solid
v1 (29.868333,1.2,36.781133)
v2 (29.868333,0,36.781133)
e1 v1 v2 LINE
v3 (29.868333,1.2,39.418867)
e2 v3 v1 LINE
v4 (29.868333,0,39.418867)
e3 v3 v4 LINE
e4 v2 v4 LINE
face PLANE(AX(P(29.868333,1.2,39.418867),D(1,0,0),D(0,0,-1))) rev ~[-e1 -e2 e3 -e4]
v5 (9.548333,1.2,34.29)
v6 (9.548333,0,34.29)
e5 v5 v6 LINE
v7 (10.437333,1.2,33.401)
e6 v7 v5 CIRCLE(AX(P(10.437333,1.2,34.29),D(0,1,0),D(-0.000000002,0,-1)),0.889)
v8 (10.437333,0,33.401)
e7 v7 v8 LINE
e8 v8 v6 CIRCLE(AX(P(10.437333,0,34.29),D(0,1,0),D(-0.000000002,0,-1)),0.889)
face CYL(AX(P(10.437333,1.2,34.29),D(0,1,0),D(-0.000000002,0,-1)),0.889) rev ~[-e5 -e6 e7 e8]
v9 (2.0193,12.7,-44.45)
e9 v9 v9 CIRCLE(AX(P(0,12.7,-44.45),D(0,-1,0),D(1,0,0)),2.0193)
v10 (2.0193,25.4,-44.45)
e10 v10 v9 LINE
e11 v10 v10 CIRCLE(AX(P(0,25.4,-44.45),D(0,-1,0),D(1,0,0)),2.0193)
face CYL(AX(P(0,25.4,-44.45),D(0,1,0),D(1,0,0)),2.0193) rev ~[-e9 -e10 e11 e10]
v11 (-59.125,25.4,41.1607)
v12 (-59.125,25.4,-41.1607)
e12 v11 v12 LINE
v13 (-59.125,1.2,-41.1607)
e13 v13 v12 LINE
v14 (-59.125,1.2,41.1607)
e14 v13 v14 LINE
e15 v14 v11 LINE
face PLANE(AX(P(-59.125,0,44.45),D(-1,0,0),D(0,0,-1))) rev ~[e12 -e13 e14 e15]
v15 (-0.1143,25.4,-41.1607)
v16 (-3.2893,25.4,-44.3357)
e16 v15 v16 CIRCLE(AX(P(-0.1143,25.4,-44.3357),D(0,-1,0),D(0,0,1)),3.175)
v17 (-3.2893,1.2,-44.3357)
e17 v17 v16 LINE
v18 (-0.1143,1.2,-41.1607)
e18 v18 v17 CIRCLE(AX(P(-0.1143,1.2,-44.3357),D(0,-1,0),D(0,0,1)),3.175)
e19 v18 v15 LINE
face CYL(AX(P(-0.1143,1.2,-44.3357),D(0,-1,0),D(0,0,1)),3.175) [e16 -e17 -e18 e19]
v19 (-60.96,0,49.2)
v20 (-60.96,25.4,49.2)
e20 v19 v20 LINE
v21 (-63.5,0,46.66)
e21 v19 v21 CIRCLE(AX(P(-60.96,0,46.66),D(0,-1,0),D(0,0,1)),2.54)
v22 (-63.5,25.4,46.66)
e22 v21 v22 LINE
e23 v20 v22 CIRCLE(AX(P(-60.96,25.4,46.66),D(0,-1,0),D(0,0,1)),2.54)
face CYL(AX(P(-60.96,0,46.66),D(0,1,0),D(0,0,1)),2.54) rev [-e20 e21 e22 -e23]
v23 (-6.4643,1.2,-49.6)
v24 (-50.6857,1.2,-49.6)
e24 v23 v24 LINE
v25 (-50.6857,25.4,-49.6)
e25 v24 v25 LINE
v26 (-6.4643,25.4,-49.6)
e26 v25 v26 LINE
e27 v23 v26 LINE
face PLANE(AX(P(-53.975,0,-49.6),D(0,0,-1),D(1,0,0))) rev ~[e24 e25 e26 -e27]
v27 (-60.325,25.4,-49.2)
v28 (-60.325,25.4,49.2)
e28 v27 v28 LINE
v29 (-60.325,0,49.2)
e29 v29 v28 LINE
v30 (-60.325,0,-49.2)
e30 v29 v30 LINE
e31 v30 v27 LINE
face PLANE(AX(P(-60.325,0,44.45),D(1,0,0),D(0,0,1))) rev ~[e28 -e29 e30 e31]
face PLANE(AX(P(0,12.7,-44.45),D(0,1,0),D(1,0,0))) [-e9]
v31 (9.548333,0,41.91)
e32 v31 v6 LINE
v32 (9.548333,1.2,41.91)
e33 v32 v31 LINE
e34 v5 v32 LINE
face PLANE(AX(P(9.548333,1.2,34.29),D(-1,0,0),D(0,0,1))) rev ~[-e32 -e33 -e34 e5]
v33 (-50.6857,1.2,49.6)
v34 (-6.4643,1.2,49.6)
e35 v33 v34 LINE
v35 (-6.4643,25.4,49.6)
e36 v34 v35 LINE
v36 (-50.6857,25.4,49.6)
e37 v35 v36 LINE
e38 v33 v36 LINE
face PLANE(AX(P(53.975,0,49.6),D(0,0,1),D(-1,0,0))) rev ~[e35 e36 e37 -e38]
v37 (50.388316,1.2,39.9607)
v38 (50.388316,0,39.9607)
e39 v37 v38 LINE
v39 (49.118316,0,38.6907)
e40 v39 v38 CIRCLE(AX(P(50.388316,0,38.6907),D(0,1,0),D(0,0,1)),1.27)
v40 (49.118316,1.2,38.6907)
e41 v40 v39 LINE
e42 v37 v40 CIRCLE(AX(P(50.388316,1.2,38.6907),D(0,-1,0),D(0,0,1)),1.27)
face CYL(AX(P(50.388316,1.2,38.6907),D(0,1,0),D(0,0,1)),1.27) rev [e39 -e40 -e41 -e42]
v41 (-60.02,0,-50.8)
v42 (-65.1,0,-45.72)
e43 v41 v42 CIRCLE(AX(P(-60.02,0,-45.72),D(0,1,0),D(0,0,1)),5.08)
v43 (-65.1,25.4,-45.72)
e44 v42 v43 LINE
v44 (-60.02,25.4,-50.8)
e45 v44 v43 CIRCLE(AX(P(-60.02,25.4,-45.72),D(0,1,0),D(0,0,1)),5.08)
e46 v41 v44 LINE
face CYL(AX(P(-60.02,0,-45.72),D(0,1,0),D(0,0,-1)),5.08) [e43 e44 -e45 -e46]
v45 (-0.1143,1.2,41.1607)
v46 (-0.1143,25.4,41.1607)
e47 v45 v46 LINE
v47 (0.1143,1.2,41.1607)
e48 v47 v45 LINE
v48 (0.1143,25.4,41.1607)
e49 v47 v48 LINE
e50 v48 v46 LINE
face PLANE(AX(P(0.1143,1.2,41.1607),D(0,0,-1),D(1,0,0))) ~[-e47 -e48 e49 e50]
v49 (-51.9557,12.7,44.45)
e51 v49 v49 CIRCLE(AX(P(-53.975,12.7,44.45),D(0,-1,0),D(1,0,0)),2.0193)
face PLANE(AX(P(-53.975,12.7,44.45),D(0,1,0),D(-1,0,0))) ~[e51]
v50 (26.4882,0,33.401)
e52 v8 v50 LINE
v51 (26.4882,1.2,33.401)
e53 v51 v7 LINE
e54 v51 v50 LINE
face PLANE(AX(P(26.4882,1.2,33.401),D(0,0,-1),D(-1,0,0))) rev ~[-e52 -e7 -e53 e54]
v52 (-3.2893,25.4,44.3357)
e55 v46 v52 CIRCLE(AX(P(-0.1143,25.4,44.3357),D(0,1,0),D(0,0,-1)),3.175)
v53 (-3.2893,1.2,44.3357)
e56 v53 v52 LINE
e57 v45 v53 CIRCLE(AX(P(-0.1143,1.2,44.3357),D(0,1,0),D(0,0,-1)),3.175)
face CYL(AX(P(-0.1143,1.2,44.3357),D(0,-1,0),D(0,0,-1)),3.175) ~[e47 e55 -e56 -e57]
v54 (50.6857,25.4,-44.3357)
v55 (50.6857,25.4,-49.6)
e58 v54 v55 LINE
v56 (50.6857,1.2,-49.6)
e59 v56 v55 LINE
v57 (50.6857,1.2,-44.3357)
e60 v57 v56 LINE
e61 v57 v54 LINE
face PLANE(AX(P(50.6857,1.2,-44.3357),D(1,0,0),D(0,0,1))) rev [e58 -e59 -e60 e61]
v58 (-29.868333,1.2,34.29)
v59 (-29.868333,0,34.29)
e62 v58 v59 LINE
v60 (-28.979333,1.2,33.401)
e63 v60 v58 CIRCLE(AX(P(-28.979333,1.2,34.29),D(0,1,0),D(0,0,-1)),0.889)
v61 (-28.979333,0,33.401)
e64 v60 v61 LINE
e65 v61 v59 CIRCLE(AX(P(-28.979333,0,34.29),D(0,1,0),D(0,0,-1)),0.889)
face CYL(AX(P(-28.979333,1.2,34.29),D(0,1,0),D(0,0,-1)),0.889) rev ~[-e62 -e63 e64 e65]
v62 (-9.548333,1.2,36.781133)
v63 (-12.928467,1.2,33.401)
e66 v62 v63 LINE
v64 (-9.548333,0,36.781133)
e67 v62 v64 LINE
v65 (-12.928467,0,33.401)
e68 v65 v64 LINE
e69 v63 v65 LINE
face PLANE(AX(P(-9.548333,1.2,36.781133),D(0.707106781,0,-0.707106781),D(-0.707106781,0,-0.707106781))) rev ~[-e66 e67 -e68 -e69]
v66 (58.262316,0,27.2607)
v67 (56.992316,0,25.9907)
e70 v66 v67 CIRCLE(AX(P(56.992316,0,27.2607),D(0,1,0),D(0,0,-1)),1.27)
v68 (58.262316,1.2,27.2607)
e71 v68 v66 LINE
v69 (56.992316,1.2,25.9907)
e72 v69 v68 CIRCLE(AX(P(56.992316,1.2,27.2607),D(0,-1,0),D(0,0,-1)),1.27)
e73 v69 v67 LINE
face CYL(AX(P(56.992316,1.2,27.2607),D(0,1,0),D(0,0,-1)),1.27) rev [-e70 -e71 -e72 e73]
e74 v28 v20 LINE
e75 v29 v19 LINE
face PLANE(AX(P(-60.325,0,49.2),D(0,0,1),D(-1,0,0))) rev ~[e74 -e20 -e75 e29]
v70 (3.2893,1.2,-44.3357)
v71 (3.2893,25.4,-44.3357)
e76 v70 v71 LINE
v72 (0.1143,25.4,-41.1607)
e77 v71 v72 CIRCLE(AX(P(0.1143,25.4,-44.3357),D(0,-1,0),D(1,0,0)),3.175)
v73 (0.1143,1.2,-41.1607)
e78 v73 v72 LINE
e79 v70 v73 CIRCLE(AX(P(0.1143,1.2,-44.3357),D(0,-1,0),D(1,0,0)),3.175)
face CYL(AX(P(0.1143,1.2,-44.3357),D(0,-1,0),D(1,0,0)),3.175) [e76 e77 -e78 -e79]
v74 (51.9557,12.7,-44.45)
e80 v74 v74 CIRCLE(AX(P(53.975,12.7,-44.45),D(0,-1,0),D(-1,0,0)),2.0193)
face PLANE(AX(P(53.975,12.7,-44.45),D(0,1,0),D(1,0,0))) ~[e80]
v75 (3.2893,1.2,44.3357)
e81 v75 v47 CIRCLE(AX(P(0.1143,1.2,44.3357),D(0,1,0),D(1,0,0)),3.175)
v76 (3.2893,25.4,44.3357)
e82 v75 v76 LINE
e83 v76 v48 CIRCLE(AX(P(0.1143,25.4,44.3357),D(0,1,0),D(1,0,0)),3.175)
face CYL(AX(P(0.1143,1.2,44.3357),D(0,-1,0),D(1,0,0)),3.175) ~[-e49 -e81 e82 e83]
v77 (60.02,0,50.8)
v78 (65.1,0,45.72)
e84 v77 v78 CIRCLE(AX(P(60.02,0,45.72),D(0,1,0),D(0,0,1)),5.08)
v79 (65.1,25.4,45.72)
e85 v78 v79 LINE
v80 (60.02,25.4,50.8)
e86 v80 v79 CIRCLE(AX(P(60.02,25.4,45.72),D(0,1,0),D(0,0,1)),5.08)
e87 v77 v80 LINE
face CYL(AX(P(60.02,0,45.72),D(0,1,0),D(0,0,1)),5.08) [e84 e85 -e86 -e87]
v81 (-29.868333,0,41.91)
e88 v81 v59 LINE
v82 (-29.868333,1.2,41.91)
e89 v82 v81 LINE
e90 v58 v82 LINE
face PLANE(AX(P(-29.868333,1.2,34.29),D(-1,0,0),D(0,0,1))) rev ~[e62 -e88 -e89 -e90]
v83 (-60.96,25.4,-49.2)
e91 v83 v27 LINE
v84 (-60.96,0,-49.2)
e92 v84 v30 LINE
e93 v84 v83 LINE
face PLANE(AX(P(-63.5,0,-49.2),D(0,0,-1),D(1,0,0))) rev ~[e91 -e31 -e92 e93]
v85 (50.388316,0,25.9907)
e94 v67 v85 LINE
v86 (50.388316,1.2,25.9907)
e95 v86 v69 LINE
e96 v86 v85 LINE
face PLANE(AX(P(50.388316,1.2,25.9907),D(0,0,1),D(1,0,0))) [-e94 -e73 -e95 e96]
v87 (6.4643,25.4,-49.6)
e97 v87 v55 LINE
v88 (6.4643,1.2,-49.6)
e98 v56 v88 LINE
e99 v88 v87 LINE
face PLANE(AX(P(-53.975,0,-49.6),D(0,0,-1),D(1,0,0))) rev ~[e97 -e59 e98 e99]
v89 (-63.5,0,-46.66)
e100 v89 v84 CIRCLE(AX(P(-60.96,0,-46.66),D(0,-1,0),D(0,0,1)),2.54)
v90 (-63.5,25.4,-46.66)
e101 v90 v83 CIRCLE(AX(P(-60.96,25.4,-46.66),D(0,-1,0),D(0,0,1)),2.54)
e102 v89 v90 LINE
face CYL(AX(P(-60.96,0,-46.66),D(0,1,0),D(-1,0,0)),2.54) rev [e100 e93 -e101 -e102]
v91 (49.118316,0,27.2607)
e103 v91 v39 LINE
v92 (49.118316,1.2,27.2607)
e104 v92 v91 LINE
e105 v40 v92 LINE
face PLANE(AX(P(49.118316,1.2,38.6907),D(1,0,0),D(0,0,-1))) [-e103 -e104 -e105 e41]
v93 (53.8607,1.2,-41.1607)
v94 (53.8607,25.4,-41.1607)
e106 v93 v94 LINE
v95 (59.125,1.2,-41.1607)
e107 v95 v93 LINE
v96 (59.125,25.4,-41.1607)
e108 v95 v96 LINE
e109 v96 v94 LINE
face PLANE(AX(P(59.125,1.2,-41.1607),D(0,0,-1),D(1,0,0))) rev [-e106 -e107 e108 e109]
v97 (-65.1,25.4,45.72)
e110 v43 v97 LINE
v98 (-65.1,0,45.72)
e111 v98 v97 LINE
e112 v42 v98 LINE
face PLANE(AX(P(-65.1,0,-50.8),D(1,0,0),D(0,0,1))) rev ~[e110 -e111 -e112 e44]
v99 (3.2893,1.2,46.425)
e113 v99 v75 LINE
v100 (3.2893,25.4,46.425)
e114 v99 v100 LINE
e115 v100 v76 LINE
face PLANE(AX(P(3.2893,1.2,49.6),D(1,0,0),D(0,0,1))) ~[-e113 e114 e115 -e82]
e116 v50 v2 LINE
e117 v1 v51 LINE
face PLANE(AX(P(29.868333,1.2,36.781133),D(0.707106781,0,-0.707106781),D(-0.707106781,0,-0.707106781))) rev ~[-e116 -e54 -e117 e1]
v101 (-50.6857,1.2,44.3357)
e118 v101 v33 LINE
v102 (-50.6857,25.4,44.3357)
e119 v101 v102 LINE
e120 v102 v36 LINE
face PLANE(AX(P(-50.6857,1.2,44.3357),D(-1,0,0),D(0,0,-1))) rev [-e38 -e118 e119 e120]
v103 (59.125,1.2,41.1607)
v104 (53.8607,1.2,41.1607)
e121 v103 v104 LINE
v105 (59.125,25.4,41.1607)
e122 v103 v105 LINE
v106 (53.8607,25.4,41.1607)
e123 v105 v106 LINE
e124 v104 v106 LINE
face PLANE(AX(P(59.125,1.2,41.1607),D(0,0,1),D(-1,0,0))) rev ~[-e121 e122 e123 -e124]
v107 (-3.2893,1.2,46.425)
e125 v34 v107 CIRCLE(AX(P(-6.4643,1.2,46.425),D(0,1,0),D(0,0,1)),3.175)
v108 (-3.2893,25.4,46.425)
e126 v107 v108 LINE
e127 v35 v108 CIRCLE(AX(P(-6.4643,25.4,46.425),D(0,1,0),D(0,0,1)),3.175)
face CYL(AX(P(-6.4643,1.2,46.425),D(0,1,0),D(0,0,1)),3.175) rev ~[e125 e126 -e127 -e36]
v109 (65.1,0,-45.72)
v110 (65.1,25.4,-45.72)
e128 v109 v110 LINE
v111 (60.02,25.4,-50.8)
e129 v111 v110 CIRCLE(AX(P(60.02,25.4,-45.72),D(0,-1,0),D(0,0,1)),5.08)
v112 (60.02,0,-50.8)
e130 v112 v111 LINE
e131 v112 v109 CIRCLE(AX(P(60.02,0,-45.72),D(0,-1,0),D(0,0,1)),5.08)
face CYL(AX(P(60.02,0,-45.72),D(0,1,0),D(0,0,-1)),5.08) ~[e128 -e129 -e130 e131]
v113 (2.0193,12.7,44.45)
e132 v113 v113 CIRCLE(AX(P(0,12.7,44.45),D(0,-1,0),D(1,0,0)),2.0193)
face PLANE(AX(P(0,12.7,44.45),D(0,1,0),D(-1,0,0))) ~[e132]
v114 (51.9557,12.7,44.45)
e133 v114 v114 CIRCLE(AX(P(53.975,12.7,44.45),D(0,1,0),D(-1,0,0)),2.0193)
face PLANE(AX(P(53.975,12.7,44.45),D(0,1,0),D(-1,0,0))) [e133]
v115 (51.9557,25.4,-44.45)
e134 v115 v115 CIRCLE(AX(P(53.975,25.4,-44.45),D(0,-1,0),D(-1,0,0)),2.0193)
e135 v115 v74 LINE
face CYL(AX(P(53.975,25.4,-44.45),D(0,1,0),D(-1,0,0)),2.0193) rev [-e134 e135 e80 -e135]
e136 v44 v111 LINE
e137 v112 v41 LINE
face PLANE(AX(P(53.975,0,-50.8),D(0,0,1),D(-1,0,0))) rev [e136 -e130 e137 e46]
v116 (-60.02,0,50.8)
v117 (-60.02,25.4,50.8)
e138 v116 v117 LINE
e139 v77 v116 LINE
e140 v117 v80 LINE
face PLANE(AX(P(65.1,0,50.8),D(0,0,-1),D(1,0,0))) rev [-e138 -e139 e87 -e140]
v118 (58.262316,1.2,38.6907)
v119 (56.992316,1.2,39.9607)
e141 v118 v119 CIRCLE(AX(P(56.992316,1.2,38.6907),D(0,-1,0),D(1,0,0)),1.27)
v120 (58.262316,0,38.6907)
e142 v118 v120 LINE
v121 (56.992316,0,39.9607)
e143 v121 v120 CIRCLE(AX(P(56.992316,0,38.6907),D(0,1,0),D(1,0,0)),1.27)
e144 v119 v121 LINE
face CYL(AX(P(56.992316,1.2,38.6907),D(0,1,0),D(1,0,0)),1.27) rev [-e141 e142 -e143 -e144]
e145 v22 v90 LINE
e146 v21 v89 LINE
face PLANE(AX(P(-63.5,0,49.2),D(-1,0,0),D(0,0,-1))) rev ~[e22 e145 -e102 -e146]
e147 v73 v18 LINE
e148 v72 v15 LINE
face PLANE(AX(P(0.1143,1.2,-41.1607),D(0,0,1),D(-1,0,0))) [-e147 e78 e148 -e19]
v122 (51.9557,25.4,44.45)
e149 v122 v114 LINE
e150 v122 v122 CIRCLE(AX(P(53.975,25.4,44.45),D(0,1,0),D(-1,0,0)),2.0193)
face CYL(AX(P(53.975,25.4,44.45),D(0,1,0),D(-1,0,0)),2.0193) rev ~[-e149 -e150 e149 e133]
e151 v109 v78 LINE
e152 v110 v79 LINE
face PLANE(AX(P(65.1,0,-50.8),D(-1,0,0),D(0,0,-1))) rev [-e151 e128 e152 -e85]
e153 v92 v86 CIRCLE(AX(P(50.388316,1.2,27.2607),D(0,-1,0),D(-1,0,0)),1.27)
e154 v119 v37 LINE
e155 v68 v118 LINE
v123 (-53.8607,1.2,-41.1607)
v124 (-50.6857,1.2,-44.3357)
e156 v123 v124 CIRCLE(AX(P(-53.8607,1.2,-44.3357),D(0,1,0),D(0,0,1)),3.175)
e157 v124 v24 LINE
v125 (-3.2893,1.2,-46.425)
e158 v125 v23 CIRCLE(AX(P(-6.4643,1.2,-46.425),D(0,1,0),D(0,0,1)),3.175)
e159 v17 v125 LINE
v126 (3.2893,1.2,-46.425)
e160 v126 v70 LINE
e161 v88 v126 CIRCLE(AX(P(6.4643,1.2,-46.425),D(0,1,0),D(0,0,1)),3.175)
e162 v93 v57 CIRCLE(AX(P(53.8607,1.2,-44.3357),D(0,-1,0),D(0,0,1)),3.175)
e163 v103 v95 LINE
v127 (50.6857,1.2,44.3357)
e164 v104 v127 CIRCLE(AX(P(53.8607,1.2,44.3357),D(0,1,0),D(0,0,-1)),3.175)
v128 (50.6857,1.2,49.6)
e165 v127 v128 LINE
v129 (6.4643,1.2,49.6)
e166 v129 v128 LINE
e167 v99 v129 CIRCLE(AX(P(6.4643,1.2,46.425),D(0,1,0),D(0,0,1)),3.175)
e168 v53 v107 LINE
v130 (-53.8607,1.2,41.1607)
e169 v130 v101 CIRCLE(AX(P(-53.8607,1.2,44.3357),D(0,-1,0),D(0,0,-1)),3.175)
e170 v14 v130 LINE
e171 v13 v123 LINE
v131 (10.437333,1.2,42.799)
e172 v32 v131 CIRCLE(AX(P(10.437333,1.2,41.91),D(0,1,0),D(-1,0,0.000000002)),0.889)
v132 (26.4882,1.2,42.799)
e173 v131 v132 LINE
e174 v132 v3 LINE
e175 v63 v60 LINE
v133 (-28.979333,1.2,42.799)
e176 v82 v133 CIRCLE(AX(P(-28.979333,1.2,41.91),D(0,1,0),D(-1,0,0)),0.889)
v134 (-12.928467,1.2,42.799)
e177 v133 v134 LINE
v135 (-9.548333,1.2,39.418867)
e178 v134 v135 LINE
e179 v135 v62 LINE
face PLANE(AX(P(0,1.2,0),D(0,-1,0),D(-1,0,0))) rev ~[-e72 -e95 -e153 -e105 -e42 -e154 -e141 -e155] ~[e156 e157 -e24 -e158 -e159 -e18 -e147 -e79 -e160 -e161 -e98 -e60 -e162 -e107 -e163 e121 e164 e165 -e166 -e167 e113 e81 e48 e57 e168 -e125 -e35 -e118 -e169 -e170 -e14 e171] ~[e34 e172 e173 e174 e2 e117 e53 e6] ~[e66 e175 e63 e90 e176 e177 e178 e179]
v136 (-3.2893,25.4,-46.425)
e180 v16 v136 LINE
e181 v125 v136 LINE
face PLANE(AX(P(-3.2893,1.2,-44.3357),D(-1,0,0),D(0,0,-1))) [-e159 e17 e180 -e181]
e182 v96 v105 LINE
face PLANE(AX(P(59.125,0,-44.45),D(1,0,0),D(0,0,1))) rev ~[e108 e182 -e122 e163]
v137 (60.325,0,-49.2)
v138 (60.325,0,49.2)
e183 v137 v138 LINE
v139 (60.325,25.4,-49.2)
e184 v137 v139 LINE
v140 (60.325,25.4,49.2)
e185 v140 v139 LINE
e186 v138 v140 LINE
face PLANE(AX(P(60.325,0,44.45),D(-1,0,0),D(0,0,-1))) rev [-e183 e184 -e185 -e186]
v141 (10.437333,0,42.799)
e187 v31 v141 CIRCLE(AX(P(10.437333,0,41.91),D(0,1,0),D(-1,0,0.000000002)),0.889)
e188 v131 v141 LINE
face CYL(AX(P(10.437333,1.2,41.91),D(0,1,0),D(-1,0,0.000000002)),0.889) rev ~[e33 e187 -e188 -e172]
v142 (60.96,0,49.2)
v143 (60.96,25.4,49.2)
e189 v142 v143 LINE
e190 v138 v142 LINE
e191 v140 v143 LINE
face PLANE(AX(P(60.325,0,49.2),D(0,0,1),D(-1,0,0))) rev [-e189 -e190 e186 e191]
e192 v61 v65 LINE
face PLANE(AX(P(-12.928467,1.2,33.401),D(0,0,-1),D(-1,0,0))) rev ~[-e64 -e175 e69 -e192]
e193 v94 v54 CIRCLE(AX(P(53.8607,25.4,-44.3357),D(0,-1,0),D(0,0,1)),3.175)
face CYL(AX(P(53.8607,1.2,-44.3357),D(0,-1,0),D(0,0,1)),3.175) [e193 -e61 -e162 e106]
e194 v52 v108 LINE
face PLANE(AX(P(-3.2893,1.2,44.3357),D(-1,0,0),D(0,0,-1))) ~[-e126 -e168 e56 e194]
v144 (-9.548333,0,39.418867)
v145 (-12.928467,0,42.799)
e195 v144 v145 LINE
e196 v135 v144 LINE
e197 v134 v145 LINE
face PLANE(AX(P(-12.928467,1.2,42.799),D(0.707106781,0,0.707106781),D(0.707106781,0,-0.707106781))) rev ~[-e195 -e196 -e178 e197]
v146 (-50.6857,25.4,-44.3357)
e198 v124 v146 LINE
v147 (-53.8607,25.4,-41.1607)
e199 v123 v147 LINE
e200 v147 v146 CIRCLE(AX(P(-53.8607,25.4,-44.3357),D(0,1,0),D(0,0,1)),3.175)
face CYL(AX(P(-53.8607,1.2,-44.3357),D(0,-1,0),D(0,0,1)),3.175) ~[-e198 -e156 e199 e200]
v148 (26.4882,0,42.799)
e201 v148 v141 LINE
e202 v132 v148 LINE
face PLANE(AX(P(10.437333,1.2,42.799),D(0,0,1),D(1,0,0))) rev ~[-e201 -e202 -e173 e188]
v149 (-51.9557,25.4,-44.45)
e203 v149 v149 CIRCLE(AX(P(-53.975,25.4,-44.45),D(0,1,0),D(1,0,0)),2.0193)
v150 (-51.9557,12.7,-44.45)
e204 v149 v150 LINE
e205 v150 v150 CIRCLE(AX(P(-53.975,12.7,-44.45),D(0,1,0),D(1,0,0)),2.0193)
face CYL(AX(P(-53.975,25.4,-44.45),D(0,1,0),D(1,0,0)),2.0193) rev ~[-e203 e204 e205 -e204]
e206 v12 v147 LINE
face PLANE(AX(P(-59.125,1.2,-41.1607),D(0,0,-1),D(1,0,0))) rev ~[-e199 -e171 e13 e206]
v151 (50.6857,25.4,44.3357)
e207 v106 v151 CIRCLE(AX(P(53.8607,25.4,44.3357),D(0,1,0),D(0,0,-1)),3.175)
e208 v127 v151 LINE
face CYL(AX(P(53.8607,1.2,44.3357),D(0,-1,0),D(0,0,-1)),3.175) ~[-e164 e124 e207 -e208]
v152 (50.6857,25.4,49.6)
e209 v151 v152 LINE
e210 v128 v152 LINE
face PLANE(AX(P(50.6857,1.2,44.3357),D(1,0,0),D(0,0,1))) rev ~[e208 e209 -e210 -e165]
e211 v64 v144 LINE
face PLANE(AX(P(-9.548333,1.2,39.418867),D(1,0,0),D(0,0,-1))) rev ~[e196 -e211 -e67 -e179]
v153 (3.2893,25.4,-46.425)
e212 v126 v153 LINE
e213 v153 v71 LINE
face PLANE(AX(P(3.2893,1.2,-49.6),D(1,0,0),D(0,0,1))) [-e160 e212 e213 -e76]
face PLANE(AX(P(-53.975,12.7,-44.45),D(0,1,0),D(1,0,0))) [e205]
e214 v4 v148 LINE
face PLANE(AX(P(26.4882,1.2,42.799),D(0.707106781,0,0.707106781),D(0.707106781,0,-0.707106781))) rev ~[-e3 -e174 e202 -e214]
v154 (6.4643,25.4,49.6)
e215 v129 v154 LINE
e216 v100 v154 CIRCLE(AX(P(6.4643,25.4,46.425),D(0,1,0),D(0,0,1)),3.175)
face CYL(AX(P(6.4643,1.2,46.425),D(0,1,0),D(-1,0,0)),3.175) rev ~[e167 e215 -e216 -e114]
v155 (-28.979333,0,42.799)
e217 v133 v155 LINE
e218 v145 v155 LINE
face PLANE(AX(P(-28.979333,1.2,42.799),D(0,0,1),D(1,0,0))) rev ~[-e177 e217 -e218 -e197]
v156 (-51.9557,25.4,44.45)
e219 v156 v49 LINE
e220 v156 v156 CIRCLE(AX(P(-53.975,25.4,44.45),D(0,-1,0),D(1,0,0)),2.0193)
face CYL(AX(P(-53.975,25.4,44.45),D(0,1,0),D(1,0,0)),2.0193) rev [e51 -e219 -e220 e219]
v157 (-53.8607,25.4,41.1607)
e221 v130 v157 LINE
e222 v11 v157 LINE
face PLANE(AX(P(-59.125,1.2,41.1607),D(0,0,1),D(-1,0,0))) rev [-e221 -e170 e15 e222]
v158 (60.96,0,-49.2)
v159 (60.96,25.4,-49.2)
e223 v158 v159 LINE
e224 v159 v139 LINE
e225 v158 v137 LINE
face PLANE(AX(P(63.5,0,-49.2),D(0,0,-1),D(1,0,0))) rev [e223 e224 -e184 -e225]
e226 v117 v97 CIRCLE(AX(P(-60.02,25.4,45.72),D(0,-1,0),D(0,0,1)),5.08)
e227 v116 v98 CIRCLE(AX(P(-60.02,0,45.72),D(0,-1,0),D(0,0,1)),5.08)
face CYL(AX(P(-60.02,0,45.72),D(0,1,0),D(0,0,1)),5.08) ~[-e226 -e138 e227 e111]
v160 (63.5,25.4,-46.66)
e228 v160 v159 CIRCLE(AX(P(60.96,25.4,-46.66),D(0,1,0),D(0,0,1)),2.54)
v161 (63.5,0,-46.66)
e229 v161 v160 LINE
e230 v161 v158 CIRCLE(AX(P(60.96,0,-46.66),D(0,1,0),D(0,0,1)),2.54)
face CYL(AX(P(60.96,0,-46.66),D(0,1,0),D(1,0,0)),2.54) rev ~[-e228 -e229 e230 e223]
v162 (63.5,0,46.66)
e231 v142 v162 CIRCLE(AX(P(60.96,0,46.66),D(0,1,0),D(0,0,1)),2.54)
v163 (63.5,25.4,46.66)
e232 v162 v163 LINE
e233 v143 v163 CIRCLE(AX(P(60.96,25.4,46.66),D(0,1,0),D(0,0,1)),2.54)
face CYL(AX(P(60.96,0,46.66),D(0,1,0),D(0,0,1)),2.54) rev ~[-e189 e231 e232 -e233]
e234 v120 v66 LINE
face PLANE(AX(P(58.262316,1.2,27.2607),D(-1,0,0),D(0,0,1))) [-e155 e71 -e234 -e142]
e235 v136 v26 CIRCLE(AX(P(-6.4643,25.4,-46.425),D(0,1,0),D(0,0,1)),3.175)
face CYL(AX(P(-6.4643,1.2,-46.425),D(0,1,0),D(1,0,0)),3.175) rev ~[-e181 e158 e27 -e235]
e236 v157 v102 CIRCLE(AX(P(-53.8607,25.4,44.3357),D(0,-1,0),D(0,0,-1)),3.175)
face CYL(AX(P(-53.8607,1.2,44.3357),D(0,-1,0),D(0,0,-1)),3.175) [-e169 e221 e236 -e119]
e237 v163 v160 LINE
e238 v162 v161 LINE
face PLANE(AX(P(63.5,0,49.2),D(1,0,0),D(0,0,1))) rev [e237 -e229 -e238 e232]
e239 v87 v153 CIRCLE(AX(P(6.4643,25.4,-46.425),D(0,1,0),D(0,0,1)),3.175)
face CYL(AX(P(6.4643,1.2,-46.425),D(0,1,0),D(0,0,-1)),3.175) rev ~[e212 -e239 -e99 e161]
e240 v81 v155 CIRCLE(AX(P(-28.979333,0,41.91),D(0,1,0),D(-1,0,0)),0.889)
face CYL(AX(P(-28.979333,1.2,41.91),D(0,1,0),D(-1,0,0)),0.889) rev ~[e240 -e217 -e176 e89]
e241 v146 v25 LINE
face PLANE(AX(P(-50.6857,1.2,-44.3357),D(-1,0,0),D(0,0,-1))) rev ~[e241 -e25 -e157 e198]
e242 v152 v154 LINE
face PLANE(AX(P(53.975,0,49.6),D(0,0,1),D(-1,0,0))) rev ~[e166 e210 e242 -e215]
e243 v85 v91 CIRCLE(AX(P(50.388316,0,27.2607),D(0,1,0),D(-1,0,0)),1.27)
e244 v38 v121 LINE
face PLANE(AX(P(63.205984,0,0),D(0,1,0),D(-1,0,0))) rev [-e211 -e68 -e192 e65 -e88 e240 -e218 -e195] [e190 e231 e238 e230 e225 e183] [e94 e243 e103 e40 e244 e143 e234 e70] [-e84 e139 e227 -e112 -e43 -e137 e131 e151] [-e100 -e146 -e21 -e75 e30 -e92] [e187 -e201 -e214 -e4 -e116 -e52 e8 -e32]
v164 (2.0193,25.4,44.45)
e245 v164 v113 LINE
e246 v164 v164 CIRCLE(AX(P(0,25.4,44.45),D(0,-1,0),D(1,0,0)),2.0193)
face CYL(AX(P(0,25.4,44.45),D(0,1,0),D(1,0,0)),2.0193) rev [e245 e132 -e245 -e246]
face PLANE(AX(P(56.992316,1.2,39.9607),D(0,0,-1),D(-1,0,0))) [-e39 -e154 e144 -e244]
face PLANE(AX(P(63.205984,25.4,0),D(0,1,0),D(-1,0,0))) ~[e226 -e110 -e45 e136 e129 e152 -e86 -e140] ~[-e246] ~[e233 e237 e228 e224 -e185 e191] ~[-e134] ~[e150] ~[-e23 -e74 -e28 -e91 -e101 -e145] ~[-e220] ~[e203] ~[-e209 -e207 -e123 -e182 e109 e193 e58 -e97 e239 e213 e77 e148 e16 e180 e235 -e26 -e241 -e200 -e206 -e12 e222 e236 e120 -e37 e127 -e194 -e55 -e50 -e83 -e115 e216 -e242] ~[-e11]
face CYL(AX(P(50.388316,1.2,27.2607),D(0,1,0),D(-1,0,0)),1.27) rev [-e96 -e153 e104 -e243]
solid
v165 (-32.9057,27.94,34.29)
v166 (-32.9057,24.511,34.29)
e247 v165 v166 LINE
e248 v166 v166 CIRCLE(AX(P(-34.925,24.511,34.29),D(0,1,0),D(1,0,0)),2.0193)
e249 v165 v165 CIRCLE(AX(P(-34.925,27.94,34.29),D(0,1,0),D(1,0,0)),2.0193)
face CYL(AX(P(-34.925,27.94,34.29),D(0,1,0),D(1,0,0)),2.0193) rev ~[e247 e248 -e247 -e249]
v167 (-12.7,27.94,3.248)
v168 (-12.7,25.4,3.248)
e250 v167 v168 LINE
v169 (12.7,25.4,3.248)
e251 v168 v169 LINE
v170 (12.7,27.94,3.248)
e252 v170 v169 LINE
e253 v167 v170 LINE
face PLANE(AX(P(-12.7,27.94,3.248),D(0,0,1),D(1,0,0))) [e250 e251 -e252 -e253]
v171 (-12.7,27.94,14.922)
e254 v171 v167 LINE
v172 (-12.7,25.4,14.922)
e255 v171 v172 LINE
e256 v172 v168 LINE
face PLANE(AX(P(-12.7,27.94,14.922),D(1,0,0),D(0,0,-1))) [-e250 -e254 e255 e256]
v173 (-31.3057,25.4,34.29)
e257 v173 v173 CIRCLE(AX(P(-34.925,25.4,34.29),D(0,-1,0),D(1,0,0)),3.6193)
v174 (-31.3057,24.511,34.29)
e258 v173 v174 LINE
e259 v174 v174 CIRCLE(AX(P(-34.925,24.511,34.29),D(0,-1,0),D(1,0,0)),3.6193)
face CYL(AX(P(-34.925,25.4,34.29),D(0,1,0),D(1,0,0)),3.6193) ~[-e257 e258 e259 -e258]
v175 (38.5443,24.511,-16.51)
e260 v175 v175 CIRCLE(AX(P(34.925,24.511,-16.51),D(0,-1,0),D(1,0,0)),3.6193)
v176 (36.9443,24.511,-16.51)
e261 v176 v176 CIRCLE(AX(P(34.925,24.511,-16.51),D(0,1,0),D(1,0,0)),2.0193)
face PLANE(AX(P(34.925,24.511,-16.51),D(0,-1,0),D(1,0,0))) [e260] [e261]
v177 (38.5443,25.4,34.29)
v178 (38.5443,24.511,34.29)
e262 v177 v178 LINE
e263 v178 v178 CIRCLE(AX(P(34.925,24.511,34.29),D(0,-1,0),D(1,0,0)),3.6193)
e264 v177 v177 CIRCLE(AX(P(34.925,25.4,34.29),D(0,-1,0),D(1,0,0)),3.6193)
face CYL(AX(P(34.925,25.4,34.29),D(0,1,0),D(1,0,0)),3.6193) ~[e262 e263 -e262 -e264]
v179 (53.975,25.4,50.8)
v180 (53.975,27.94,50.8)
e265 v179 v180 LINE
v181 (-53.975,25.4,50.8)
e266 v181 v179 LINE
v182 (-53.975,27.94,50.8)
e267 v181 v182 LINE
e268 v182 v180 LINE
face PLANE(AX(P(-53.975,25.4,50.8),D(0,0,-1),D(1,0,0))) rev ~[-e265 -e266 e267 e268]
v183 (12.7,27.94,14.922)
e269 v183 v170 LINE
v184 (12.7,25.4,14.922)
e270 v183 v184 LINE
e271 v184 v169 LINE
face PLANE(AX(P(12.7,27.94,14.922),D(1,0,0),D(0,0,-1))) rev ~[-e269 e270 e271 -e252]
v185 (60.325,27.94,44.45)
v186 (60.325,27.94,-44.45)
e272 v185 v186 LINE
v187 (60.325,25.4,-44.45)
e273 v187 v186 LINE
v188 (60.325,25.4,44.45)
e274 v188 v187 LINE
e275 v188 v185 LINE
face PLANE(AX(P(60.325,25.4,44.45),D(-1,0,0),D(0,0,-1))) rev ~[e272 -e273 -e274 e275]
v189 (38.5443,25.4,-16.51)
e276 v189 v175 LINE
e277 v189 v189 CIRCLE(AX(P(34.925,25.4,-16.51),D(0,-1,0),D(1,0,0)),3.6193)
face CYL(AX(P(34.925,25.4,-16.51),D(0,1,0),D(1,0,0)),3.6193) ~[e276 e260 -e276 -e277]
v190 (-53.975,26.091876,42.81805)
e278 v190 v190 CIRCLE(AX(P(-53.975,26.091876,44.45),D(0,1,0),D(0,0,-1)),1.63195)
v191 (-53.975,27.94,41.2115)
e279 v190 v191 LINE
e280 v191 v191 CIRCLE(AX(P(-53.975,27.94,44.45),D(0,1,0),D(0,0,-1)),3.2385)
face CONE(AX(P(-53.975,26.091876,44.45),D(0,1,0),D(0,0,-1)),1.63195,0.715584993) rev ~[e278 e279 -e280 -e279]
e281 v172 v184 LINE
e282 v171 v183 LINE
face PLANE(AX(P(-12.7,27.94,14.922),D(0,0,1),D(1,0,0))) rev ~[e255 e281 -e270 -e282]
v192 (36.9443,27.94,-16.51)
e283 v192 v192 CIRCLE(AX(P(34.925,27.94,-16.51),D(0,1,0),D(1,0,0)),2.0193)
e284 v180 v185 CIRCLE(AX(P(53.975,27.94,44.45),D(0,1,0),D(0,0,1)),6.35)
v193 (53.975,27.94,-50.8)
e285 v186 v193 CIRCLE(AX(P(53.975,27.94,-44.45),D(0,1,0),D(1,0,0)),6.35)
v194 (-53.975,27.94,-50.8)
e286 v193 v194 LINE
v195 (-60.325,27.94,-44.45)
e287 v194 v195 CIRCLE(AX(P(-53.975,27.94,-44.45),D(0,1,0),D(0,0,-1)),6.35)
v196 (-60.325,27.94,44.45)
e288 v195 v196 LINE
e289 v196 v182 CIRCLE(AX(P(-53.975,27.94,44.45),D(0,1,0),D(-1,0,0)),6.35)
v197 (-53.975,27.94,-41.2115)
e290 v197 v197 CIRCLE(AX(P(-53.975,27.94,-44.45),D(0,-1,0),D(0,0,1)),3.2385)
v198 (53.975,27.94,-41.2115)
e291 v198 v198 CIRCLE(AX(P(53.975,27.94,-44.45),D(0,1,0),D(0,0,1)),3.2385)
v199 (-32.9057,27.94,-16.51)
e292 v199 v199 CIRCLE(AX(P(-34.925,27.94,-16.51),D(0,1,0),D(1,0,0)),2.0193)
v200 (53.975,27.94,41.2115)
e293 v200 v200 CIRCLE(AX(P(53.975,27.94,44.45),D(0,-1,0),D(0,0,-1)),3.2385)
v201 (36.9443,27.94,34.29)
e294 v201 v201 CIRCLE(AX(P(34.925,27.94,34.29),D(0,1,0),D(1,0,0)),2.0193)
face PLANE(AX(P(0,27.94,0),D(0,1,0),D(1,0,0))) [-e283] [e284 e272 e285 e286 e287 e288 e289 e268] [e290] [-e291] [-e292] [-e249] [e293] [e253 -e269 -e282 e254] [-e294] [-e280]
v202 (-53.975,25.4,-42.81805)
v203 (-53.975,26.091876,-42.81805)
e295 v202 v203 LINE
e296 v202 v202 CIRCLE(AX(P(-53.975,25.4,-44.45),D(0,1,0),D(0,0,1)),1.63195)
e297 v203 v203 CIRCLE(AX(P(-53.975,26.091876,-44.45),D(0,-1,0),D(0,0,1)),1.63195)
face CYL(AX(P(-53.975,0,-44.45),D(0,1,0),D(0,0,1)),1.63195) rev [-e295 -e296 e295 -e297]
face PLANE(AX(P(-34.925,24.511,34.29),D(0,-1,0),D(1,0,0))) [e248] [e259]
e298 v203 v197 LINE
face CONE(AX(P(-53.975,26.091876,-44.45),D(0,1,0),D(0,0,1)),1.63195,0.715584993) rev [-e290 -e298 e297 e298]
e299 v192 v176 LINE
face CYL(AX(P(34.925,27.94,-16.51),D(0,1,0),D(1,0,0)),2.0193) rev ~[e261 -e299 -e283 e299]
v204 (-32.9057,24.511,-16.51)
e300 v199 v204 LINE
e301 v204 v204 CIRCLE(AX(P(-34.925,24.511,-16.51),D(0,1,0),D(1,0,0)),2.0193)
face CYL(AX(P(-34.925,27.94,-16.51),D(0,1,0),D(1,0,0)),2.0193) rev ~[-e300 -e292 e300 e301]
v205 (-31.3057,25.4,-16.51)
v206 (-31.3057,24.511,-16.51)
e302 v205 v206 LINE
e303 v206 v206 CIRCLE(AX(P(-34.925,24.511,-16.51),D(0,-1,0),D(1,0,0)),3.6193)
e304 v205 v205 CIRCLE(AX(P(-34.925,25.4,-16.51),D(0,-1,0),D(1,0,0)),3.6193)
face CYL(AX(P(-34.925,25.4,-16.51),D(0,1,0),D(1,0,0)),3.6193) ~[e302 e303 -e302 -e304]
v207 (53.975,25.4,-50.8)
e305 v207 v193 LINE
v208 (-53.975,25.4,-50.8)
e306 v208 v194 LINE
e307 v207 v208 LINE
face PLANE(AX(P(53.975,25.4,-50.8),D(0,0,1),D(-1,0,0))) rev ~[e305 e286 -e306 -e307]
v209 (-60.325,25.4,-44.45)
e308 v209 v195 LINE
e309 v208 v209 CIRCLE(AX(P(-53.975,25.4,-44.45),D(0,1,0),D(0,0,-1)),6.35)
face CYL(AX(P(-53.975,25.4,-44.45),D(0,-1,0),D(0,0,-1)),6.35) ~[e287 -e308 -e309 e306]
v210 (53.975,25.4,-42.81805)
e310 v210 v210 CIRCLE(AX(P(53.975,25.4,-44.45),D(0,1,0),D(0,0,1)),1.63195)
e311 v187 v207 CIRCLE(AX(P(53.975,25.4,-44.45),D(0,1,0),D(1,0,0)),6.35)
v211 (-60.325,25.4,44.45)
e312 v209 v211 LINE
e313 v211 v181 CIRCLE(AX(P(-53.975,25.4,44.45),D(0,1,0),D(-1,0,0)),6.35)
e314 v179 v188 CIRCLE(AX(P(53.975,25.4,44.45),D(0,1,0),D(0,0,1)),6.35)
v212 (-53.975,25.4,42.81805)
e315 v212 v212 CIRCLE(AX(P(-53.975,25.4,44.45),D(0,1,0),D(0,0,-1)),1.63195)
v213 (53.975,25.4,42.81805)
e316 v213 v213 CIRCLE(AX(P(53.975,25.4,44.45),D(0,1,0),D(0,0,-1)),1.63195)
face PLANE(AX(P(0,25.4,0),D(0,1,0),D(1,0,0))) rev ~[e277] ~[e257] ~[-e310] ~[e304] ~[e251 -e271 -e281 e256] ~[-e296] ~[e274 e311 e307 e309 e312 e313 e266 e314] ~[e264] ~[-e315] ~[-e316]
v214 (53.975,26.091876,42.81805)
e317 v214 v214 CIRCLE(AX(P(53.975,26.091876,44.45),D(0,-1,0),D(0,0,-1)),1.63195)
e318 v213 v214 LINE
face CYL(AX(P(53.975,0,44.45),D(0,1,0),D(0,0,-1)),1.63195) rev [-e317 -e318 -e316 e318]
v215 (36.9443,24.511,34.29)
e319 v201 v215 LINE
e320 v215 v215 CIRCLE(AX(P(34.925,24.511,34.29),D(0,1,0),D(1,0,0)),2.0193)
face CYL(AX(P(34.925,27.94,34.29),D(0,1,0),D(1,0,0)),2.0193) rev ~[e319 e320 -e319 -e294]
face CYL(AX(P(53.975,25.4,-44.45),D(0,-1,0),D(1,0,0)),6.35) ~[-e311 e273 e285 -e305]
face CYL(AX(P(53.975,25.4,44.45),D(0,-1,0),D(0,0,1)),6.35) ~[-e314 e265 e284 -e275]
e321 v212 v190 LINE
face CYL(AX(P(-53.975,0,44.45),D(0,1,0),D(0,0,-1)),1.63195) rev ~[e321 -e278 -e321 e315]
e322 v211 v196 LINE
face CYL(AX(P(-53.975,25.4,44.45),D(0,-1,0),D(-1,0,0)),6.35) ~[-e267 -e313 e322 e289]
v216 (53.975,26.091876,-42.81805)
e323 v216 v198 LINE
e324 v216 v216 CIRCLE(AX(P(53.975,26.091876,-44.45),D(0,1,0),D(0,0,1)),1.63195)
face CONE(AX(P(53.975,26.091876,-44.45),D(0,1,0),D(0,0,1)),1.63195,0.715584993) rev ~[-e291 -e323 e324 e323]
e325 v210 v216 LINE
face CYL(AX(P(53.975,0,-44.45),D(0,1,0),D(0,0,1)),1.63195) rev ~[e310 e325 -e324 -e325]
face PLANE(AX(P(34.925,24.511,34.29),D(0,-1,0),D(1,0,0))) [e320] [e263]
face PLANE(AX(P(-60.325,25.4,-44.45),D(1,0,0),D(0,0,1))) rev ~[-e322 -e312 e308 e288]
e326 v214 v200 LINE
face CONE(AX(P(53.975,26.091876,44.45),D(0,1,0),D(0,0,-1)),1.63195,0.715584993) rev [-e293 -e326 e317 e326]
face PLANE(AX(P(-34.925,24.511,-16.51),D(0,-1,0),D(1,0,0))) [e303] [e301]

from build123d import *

# Parameters (mm, degrees)
BOSS_EXTRUDE2_DEPTH     = 25.4
SHELL2_T                = -1.2
BOSS_EXTRUDE3_DEPTH     = 24.2
BOSS_EXTRUDE8_DEPTH     = 24.2
SKETCH8_R               = 2.0193
CUT_EXTRUDE2_DEPTH      = 12.7
MIRROR2_COPY_1_DEPTH    = 24.2
MIRROR2_COPY_2_SKETCH_R = 2.0193
MIRROR2_COPY_2_DEPTH    = 12.7
CUT_EXTRUDE3_DEPTH      = 12.7
CUT_EXTRUDE4_DEPTH      = 2.2
BOSS_EXTRUDE4_DEPTH     = 2.54
SKETCH14_R              = 3.6193
BOSS_EXTRUDE6_DEPTH     = 0.889
SKETCH16_R              = 2.0193
SKETCH16_W              = 25.4
SKETCH16_H              = 11.674
CUT_EXTRUDE5_DEPTH      = 28.94
BOSS_EXTRUDE7_DEPTH     = 25.4
FILLET3_R               = 5.08
FILLET4_R               = 2.54
FILLET3_OF_MIRROR5_R    = 5.08
FILLET4_OF_MIRROR5_R    = 2.54
FILLET6_R               = 3.175


with BuildPart() as part:
    # Sketch5 → Boss-Extrude2 (new body)
    with BuildSketch(Plane(origin=(0, 0, 0), x_dir=(1, 0, 0), z_dir=(0, 1, 0))):
        with BuildLine():
            Line((-53.975, 50.8), (53.975, 50.8))
            ThreePointArc((53.975, 50.8), (58.465128061, 48.940128061), (60.325, 44.45))
            Line((60.325, 44.45), (60.325, -44.45))
            ThreePointArc((60.325, -44.45), (58.465128061, -48.940128061), (53.975, -50.8))
            Line((53.975, -50.8), (-53.975, -50.8))
            ThreePointArc((-53.975, -50.8), (-58.465128061, -48.940128061), (-60.325, -44.45))
            Line((-60.325, -44.45), (-60.325, 44.45))
            ThreePointArc((-60.325, 44.45), (-58.465128061, 48.940128061), (-53.975, 50.8))
        make_face()
    extrude(amount=BOSS_EXTRUDE2_DEPTH)

    # Shell2
    shell2_openings = [part.faces().sort_by_distance(p)[0] for p in [
        (0, 25.4, 0),
    ]]
    offset(amount=SHELL2_T, openings=shell2_openings, kind=Kind.INTERSECTION)

    # Sketch6 → Boss-Extrude3 (add)
    with BuildSketch(Plane(origin=(0, 1.2, 0), x_dir=(1, 0, 0), z_dir=(0, 1, 0))):
        with BuildLine():
            Line((-50.6857, 49.6), (-53.975, 49.6))
            ThreePointArc((-53.975, 49.6), (-57.616599923, 48.091599923), (-59.125, 44.45))
            Line((-59.125, 44.45), (-59.125, 41.1607))
            Line((-59.125, 41.1607), (-53.8607, 41.1607))
            ThreePointArc((-53.8607, 41.1607), (-51.61563597, 42.09063597), (-50.6857, 44.3357))
            Line((-50.6857, 44.3357), (-50.6857, 49.6))
        make_face()
    boss_extrude3 = extrude(amount=BOSS_EXTRUDE3_DEPTH)

    # Sketch20 → Boss-Extrude8 (add)
    with BuildSketch(Plane(origin=(0, 1.2, 0), x_dir=(1, 0, 0), z_dir=(0, 1, 0))):
        with BuildLine():
            Line((-3.2893, 49.6), (3.2893, 49.6))
            Line((3.2893, 49.6), (3.2893, 44.3357))
            ThreePointArc((3.2893, 44.3357), (2.35936403, 42.09063597), (0.1143, 41.1607))
            Line((0.1143, 41.1607), (-0.1143, 41.1607))
            ThreePointArc((-0.1143, 41.1607), (-2.35936403, 42.09063597), (-3.2893, 44.3357))
            Line((-3.2893, 44.3357), (-3.2893, 49.6))
        make_face()
    boss_extrude8 = extrude(amount=BOSS_EXTRUDE8_DEPTH)

    # Sketch8 → Cut-Extrude2 (cut)
    with BuildSketch(Plane(origin=(0, 25.4, 0), x_dir=(1, 0, 0), z_dir=(0, 1, 0))):
        with Locations((-53.975, 44.45)):
            Circle(SKETCH8_R)
        with Locations((0, 44.45)):
            Circle(SKETCH8_R)
    cut_extrude2 = extrude(amount=-CUT_EXTRUDE2_DEPTH, mode=Mode.SUBTRACT)

    # Mirror1: Boss-Extrude3, Cut-Extrude2 across plane
    add(boss_extrude3.mirror(Plane(origin=(0, 0, 0), x_dir=(0, 0, 1), z_dir=(1, 0, 0))))
    add(cut_extrude2.mirror(Plane(origin=(0, 0, 0), x_dir=(0, 0, 1), z_dir=(1, 0, 0))), mode=Mode.SUBTRACT)

    # Mirror2: Boss-Extrude8, Boss-Extrude3, Cut-Extrude2 across plane
    add(boss_extrude8.mirror(Plane.XY))
    add(boss_extrude3.mirror(Plane.XY))
    add(cut_extrude2.mirror(Plane.XY), mode=Mode.SUBTRACT)

    # Mirror2 copy 1 sketch → Mirror2 copy 1 (add)
    with BuildSketch(Plane(origin=(0, 1.2, 0), x_dir=(-1, 0, 0), z_dir=(0, 1, 0))):
        with BuildLine():
            Line((-50.6857, 49.6), (-53.975, 49.6))
            ThreePointArc((-53.975, 49.6), (-57.616599923, 48.091599923), (-59.125, 44.45))
            Line((-59.125, 44.45), (-59.125, 41.1607))
            Line((-59.125, 41.1607), (-53.8607, 41.1607))
            ThreePointArc((-53.8607, 41.1607), (-51.61563597, 42.09063597), (-50.6857, 44.3357))
            Line((-50.6857, 44.3357), (-50.6857, 49.6))
        make_face()
    extrude(amount=MIRROR2_COPY_1_DEPTH)

    # Mirror2 copy 2 sketch → Mirror2 copy 2 (cut)
    with BuildSketch(Plane(origin=(0, 25.4, 0), x_dir=(-1, 0, 0), z_dir=(0, 1, 0))):
        with Locations((-53.975, 44.45)):
            Circle(MIRROR2_COPY_2_SKETCH_R)
        with Locations((0, 44.45)):
            Circle(MIRROR2_COPY_2_SKETCH_R)
    extrude(amount=-MIRROR2_COPY_2_DEPTH, mode=Mode.SUBTRACT)

    # Sketch2 → Cut-Extrude3 (cut)
    with BuildSketch(Plane(origin=(0, 1.2, 0), x_dir=(1, 0, 0), z_dir=(0, 1, 0))):
        with BuildLine():
            Line((-29.868333333, -34.29), (-29.868333333, -41.91))
            ThreePointArc((-29.868333333, -41.91), (-29.607951262, -42.538617928), (-28.979333333, -42.799))
            Line((-28.979333333, -42.799), (-12.928466742, -42.799))
            Line((-12.928466742, -42.799), (-9.548333333, -39.418866591))
            Line((-9.548333333, -39.418866591), (-9.548333333, -36.781133409))
            Line((-9.548333333, -36.781133409), (-12.928466742, -33.401))
            Line((-12.928466742, -33.401), (-28.979333333, -33.401))
            ThreePointArc((-28.979333333, -33.401), (-29.607951262, -33.661382072), (-29.868333333, -34.29))
        make_face()
        with BuildLine():
            Line((9.548333333, -34.29), (9.548333333, -41.91))
            ThreePointArc((9.548333333, -41.91), (9.808715405, -42.538617928), (10.437333333, -42.799))
            Line((10.437333333, -42.799), (26.488199925, -42.799))
            Line((26.488199925, -42.799), (29.868333333, -39.418866591))
            Line((29.868333333, -39.418866591), (29.868333333, -36.781133409))
            Line((29.868333333, -36.781133409), (26.488199925, -33.401))
            Line((26.488199925, -33.401), (10.437333333, -33.401))
            ThreePointArc((10.437333333, -33.401), (9.808715405, -33.661382072), (9.548333333, -34.29))
        make_face()
    extrude(amount=-CUT_EXTRUDE3_DEPTH, mode=Mode.SUBTRACT)

    # Sketch9 → Cut-Extrude4 (cut, through all)
    with BuildSketch(Plane(origin=(0, 1.2, 0), x_dir=(1, 0, 0), z_dir=(0, 1, 0))):
        with BuildLine():
            Line((49.118316031, -38.6907), (49.118316031, -27.2607))
            ThreePointArc((49.118316031, -27.2607), (49.490290419, -26.362674388), (50.388316031, -25.9907))
            Line((50.388316031, -25.9907), (56.992316031, -25.9907))
            ThreePointArc((56.992316031, -25.9907), (57.890341643, -26.362674388), (58.262316031, -27.2607))
            Line((58.262316031, -27.2607), (58.262316031, -38.6907))
            ThreePointArc((58.262316031, -38.6907), (57.890341643, -39.588725612), (56.992316031, -39.9607))
            Line((56.992316031, -39.9607), (50.388316031, -39.9607))
            ThreePointArc((50.388316031, -39.9607), (49.490290419, -39.588725612), (49.118316031, -38.6907))
        make_face()
    extrude(amount=-CUT_EXTRUDE4_DEPTH, mode=Mode.SUBTRACT)

    # Sketch18 → Boss-Extrude7 (add)
    with BuildSketch(Plane.XZ):
        with BuildLine():
            Line((-53.975, -50.8), (-65.1, -50.8))
            Line((-65.1, -50.8), (-65.1, 50.8))
            Line((-65.1, 50.8), (-53.975, 50.8))
            ThreePointArc((-53.975, 50.8), (-58.465128061, 48.940128061), (-60.325, 44.45))
            Line((-60.325, 44.45), (-60.325, 49.2))
            Line((-60.325, 49.2), (-63.5, 49.2))
            Line((-63.5, 49.2), (-63.5, -49.2))
            Line((-63.5, -49.2), (-60.325, -49.2))
            Line((-60.325, -49.2), (-60.325, -44.45))
            ThreePointArc((-60.325, -44.45), (-58.465128061, -48.940128061), (-53.975, -50.8))
        make_face()
    boss_extrude7 = extrude(amount=-BOSS_EXTRUDE7_DEPTH)

    # Fillet3
    fillet3_edges = [part.edges().sort_by_distance(p)[0] for p in [
        (-65.1, 12.7, -50.8),
        (-65.1, 12.7, 50.8),
    ]]
    fillet(fillet3_edges, radius=FILLET3_R)

    # Fillet4
    fillet4_edges = [part.edges().sort_by_distance(p)[0] for p in [
        (-63.5, 12.7, 49.2),
        (-63.5, 12.7, -49.2),
    ]]
    fillet(fillet4_edges, radius=FILLET4_R)

    # Mirror5: Boss-Extrude7 across plane
    add(boss_extrude7.mirror(Plane(origin=(0, 0, 0), x_dir=(0, 0, 1), z_dir=(1, 0, 0))))

    # Fillet3 of Mirror5
    fillet3_of_mirror5_edges = [part.edges().sort_by_distance(p)[0] for p in [
        (65.1, 12.7, -50.8),
        (65.1, 12.7, 50.8),
    ]]
    fillet(fillet3_of_mirror5_edges, radius=FILLET3_OF_MIRROR5_R)

    # Fillet4 of Mirror5
    fillet4_of_mirror5_edges = [part.edges().sort_by_distance(p)[0] for p in [
        (63.5, 12.7, 49.2),
        (63.5, 12.7, -49.2),
    ]]
    fillet(fillet4_of_mirror5_edges, radius=FILLET4_OF_MIRROR5_R)

    # Fillet6
    fillet6_edges = [part.edges().sort_by_distance(p)[0] for p in [
        (-3.2893, 13.3, 49.6),
        (3.2893, 13.3, 49.6),
        (3.2893, 13.3, -49.6),
        (-3.2893, 13.3, -49.6),
    ]]
    fillet(fillet6_edges, radius=FILLET6_R)


with BuildPart() as body_2:
    # Sketch10 → Boss-Extrude4 (new body)
    with BuildSketch(Plane(origin=(0, 25.4, 0), x_dir=(1, 0, 0), z_dir=(0, 1, 0))):
        with BuildLine():
            Line((53.975, 50.8), (-53.975, 50.8))
            ThreePointArc((-53.975, 50.8), (-58.465128061, 48.940128061), (-60.325, 44.45))
            Line((-60.325, 44.45), (-60.325, -44.45))
            ThreePointArc((-60.325, -44.45), (-58.465128061, -48.940128061), (-53.975, -50.8))
            Line((-53.975, -50.8), (53.975, -50.8))
            ThreePointArc((53.975, -50.8), (58.465128061, -48.940128061), (60.325, -44.45))
            Line((60.325, -44.45), (60.325, 44.45))
            ThreePointArc((60.325, 44.45), (58.465128061, 48.940128061), (53.975, 50.8))
        make_face()
    extrude(amount=BOSS_EXTRUDE4_DEPTH)

    # Sketch12 → CSK for #4 Flat Head Machine Screw1 (revolve, cut)
    with BuildSketch(Plane(origin=(-53.975, 27.94, -44.45), x_dir=(0, 0, 1), z_dir=(1, 0, 0))):
        Polygon((0, 0), (0, 27.94), (1.63195, 27.94), (1.63195, 1.848124365), (3.2385, 0), align=None)
    csk_for_4_flat_head_machine_screw1 = revolve(axis=Axis((-53.975, 34.29, -44.45), (0, -1, 0)), mode=Mode.SUBTRACT)

    # Mirror3: CSK for #4 Flat Head Machine Screw1 across plane
    add(csk_for_4_flat_head_machine_screw1.mirror(Plane.XY), mode=Mode.SUBTRACT)

    # Mirror4: CSK for #4 Flat Head Machine Screw1 across plane
    add(csk_for_4_flat_head_machine_screw1.mirror(Plane(origin=(0, 0, 0), x_dir=(0, 0, 1), z_dir=(1, 0, 0))), mode=Mode.SUBTRACT)

    # Mirror4 copy 1 sketch → Mirror4 copy 1 (revolve, cut)
    with BuildSketch(Plane(origin=(53.975, 27.94, 44.45), x_dir=(0, 0, -1), z_dir=(-1, 0, 0))):
        Polygon((0, 0), (0, 27.94), (1.63195, 27.94), (1.63195, 1.848124365), (3.2385, 0), align=None)
    revolve(axis=Axis((53.975, 34.29, 44.45), (0, -1, 0)), mode=Mode.SUBTRACT)

    # Sketch14 → Boss-Extrude6 (add)
    with BuildSketch(Plane.XZ.offset(-25.4)):
        with Locations((-34.925, 34.29)):
            Circle(SKETCH14_R)
        with Locations((-34.925, -16.51)):
            Circle(SKETCH14_R)
        with Locations((34.925, -16.51)):
            Circle(SKETCH14_R)
        with Locations((34.925, 34.29)):
            Circle(SKETCH14_R)
    extrude(amount=BOSS_EXTRUDE6_DEPTH)

    # Sketch16 → Cut-Extrude5 (cut, through all)
    with BuildSketch(Plane(origin=(0, 27.94, 0), x_dir=(1, 0, 0), z_dir=(0, 1, 0))):
        with Locations((34.925, 16.51)):
            Circle(SKETCH16_R)
        with Locations((34.925, -34.29)):
            Circle(SKETCH16_R)
        with Locations((-34.925, -34.29)):
            Circle(SKETCH16_R)
        with Locations((-34.925, 16.51)):
            Circle(SKETCH16_R)
        with Locations((0, -9.085)):
            Rectangle(SKETCH16_W, SKETCH16_H)
    extrude(amount=-CUT_EXTRUDE5_DEPTH, mode=Mode.SUBTRACT)


solid = Compound([part.part, body_2.part])
